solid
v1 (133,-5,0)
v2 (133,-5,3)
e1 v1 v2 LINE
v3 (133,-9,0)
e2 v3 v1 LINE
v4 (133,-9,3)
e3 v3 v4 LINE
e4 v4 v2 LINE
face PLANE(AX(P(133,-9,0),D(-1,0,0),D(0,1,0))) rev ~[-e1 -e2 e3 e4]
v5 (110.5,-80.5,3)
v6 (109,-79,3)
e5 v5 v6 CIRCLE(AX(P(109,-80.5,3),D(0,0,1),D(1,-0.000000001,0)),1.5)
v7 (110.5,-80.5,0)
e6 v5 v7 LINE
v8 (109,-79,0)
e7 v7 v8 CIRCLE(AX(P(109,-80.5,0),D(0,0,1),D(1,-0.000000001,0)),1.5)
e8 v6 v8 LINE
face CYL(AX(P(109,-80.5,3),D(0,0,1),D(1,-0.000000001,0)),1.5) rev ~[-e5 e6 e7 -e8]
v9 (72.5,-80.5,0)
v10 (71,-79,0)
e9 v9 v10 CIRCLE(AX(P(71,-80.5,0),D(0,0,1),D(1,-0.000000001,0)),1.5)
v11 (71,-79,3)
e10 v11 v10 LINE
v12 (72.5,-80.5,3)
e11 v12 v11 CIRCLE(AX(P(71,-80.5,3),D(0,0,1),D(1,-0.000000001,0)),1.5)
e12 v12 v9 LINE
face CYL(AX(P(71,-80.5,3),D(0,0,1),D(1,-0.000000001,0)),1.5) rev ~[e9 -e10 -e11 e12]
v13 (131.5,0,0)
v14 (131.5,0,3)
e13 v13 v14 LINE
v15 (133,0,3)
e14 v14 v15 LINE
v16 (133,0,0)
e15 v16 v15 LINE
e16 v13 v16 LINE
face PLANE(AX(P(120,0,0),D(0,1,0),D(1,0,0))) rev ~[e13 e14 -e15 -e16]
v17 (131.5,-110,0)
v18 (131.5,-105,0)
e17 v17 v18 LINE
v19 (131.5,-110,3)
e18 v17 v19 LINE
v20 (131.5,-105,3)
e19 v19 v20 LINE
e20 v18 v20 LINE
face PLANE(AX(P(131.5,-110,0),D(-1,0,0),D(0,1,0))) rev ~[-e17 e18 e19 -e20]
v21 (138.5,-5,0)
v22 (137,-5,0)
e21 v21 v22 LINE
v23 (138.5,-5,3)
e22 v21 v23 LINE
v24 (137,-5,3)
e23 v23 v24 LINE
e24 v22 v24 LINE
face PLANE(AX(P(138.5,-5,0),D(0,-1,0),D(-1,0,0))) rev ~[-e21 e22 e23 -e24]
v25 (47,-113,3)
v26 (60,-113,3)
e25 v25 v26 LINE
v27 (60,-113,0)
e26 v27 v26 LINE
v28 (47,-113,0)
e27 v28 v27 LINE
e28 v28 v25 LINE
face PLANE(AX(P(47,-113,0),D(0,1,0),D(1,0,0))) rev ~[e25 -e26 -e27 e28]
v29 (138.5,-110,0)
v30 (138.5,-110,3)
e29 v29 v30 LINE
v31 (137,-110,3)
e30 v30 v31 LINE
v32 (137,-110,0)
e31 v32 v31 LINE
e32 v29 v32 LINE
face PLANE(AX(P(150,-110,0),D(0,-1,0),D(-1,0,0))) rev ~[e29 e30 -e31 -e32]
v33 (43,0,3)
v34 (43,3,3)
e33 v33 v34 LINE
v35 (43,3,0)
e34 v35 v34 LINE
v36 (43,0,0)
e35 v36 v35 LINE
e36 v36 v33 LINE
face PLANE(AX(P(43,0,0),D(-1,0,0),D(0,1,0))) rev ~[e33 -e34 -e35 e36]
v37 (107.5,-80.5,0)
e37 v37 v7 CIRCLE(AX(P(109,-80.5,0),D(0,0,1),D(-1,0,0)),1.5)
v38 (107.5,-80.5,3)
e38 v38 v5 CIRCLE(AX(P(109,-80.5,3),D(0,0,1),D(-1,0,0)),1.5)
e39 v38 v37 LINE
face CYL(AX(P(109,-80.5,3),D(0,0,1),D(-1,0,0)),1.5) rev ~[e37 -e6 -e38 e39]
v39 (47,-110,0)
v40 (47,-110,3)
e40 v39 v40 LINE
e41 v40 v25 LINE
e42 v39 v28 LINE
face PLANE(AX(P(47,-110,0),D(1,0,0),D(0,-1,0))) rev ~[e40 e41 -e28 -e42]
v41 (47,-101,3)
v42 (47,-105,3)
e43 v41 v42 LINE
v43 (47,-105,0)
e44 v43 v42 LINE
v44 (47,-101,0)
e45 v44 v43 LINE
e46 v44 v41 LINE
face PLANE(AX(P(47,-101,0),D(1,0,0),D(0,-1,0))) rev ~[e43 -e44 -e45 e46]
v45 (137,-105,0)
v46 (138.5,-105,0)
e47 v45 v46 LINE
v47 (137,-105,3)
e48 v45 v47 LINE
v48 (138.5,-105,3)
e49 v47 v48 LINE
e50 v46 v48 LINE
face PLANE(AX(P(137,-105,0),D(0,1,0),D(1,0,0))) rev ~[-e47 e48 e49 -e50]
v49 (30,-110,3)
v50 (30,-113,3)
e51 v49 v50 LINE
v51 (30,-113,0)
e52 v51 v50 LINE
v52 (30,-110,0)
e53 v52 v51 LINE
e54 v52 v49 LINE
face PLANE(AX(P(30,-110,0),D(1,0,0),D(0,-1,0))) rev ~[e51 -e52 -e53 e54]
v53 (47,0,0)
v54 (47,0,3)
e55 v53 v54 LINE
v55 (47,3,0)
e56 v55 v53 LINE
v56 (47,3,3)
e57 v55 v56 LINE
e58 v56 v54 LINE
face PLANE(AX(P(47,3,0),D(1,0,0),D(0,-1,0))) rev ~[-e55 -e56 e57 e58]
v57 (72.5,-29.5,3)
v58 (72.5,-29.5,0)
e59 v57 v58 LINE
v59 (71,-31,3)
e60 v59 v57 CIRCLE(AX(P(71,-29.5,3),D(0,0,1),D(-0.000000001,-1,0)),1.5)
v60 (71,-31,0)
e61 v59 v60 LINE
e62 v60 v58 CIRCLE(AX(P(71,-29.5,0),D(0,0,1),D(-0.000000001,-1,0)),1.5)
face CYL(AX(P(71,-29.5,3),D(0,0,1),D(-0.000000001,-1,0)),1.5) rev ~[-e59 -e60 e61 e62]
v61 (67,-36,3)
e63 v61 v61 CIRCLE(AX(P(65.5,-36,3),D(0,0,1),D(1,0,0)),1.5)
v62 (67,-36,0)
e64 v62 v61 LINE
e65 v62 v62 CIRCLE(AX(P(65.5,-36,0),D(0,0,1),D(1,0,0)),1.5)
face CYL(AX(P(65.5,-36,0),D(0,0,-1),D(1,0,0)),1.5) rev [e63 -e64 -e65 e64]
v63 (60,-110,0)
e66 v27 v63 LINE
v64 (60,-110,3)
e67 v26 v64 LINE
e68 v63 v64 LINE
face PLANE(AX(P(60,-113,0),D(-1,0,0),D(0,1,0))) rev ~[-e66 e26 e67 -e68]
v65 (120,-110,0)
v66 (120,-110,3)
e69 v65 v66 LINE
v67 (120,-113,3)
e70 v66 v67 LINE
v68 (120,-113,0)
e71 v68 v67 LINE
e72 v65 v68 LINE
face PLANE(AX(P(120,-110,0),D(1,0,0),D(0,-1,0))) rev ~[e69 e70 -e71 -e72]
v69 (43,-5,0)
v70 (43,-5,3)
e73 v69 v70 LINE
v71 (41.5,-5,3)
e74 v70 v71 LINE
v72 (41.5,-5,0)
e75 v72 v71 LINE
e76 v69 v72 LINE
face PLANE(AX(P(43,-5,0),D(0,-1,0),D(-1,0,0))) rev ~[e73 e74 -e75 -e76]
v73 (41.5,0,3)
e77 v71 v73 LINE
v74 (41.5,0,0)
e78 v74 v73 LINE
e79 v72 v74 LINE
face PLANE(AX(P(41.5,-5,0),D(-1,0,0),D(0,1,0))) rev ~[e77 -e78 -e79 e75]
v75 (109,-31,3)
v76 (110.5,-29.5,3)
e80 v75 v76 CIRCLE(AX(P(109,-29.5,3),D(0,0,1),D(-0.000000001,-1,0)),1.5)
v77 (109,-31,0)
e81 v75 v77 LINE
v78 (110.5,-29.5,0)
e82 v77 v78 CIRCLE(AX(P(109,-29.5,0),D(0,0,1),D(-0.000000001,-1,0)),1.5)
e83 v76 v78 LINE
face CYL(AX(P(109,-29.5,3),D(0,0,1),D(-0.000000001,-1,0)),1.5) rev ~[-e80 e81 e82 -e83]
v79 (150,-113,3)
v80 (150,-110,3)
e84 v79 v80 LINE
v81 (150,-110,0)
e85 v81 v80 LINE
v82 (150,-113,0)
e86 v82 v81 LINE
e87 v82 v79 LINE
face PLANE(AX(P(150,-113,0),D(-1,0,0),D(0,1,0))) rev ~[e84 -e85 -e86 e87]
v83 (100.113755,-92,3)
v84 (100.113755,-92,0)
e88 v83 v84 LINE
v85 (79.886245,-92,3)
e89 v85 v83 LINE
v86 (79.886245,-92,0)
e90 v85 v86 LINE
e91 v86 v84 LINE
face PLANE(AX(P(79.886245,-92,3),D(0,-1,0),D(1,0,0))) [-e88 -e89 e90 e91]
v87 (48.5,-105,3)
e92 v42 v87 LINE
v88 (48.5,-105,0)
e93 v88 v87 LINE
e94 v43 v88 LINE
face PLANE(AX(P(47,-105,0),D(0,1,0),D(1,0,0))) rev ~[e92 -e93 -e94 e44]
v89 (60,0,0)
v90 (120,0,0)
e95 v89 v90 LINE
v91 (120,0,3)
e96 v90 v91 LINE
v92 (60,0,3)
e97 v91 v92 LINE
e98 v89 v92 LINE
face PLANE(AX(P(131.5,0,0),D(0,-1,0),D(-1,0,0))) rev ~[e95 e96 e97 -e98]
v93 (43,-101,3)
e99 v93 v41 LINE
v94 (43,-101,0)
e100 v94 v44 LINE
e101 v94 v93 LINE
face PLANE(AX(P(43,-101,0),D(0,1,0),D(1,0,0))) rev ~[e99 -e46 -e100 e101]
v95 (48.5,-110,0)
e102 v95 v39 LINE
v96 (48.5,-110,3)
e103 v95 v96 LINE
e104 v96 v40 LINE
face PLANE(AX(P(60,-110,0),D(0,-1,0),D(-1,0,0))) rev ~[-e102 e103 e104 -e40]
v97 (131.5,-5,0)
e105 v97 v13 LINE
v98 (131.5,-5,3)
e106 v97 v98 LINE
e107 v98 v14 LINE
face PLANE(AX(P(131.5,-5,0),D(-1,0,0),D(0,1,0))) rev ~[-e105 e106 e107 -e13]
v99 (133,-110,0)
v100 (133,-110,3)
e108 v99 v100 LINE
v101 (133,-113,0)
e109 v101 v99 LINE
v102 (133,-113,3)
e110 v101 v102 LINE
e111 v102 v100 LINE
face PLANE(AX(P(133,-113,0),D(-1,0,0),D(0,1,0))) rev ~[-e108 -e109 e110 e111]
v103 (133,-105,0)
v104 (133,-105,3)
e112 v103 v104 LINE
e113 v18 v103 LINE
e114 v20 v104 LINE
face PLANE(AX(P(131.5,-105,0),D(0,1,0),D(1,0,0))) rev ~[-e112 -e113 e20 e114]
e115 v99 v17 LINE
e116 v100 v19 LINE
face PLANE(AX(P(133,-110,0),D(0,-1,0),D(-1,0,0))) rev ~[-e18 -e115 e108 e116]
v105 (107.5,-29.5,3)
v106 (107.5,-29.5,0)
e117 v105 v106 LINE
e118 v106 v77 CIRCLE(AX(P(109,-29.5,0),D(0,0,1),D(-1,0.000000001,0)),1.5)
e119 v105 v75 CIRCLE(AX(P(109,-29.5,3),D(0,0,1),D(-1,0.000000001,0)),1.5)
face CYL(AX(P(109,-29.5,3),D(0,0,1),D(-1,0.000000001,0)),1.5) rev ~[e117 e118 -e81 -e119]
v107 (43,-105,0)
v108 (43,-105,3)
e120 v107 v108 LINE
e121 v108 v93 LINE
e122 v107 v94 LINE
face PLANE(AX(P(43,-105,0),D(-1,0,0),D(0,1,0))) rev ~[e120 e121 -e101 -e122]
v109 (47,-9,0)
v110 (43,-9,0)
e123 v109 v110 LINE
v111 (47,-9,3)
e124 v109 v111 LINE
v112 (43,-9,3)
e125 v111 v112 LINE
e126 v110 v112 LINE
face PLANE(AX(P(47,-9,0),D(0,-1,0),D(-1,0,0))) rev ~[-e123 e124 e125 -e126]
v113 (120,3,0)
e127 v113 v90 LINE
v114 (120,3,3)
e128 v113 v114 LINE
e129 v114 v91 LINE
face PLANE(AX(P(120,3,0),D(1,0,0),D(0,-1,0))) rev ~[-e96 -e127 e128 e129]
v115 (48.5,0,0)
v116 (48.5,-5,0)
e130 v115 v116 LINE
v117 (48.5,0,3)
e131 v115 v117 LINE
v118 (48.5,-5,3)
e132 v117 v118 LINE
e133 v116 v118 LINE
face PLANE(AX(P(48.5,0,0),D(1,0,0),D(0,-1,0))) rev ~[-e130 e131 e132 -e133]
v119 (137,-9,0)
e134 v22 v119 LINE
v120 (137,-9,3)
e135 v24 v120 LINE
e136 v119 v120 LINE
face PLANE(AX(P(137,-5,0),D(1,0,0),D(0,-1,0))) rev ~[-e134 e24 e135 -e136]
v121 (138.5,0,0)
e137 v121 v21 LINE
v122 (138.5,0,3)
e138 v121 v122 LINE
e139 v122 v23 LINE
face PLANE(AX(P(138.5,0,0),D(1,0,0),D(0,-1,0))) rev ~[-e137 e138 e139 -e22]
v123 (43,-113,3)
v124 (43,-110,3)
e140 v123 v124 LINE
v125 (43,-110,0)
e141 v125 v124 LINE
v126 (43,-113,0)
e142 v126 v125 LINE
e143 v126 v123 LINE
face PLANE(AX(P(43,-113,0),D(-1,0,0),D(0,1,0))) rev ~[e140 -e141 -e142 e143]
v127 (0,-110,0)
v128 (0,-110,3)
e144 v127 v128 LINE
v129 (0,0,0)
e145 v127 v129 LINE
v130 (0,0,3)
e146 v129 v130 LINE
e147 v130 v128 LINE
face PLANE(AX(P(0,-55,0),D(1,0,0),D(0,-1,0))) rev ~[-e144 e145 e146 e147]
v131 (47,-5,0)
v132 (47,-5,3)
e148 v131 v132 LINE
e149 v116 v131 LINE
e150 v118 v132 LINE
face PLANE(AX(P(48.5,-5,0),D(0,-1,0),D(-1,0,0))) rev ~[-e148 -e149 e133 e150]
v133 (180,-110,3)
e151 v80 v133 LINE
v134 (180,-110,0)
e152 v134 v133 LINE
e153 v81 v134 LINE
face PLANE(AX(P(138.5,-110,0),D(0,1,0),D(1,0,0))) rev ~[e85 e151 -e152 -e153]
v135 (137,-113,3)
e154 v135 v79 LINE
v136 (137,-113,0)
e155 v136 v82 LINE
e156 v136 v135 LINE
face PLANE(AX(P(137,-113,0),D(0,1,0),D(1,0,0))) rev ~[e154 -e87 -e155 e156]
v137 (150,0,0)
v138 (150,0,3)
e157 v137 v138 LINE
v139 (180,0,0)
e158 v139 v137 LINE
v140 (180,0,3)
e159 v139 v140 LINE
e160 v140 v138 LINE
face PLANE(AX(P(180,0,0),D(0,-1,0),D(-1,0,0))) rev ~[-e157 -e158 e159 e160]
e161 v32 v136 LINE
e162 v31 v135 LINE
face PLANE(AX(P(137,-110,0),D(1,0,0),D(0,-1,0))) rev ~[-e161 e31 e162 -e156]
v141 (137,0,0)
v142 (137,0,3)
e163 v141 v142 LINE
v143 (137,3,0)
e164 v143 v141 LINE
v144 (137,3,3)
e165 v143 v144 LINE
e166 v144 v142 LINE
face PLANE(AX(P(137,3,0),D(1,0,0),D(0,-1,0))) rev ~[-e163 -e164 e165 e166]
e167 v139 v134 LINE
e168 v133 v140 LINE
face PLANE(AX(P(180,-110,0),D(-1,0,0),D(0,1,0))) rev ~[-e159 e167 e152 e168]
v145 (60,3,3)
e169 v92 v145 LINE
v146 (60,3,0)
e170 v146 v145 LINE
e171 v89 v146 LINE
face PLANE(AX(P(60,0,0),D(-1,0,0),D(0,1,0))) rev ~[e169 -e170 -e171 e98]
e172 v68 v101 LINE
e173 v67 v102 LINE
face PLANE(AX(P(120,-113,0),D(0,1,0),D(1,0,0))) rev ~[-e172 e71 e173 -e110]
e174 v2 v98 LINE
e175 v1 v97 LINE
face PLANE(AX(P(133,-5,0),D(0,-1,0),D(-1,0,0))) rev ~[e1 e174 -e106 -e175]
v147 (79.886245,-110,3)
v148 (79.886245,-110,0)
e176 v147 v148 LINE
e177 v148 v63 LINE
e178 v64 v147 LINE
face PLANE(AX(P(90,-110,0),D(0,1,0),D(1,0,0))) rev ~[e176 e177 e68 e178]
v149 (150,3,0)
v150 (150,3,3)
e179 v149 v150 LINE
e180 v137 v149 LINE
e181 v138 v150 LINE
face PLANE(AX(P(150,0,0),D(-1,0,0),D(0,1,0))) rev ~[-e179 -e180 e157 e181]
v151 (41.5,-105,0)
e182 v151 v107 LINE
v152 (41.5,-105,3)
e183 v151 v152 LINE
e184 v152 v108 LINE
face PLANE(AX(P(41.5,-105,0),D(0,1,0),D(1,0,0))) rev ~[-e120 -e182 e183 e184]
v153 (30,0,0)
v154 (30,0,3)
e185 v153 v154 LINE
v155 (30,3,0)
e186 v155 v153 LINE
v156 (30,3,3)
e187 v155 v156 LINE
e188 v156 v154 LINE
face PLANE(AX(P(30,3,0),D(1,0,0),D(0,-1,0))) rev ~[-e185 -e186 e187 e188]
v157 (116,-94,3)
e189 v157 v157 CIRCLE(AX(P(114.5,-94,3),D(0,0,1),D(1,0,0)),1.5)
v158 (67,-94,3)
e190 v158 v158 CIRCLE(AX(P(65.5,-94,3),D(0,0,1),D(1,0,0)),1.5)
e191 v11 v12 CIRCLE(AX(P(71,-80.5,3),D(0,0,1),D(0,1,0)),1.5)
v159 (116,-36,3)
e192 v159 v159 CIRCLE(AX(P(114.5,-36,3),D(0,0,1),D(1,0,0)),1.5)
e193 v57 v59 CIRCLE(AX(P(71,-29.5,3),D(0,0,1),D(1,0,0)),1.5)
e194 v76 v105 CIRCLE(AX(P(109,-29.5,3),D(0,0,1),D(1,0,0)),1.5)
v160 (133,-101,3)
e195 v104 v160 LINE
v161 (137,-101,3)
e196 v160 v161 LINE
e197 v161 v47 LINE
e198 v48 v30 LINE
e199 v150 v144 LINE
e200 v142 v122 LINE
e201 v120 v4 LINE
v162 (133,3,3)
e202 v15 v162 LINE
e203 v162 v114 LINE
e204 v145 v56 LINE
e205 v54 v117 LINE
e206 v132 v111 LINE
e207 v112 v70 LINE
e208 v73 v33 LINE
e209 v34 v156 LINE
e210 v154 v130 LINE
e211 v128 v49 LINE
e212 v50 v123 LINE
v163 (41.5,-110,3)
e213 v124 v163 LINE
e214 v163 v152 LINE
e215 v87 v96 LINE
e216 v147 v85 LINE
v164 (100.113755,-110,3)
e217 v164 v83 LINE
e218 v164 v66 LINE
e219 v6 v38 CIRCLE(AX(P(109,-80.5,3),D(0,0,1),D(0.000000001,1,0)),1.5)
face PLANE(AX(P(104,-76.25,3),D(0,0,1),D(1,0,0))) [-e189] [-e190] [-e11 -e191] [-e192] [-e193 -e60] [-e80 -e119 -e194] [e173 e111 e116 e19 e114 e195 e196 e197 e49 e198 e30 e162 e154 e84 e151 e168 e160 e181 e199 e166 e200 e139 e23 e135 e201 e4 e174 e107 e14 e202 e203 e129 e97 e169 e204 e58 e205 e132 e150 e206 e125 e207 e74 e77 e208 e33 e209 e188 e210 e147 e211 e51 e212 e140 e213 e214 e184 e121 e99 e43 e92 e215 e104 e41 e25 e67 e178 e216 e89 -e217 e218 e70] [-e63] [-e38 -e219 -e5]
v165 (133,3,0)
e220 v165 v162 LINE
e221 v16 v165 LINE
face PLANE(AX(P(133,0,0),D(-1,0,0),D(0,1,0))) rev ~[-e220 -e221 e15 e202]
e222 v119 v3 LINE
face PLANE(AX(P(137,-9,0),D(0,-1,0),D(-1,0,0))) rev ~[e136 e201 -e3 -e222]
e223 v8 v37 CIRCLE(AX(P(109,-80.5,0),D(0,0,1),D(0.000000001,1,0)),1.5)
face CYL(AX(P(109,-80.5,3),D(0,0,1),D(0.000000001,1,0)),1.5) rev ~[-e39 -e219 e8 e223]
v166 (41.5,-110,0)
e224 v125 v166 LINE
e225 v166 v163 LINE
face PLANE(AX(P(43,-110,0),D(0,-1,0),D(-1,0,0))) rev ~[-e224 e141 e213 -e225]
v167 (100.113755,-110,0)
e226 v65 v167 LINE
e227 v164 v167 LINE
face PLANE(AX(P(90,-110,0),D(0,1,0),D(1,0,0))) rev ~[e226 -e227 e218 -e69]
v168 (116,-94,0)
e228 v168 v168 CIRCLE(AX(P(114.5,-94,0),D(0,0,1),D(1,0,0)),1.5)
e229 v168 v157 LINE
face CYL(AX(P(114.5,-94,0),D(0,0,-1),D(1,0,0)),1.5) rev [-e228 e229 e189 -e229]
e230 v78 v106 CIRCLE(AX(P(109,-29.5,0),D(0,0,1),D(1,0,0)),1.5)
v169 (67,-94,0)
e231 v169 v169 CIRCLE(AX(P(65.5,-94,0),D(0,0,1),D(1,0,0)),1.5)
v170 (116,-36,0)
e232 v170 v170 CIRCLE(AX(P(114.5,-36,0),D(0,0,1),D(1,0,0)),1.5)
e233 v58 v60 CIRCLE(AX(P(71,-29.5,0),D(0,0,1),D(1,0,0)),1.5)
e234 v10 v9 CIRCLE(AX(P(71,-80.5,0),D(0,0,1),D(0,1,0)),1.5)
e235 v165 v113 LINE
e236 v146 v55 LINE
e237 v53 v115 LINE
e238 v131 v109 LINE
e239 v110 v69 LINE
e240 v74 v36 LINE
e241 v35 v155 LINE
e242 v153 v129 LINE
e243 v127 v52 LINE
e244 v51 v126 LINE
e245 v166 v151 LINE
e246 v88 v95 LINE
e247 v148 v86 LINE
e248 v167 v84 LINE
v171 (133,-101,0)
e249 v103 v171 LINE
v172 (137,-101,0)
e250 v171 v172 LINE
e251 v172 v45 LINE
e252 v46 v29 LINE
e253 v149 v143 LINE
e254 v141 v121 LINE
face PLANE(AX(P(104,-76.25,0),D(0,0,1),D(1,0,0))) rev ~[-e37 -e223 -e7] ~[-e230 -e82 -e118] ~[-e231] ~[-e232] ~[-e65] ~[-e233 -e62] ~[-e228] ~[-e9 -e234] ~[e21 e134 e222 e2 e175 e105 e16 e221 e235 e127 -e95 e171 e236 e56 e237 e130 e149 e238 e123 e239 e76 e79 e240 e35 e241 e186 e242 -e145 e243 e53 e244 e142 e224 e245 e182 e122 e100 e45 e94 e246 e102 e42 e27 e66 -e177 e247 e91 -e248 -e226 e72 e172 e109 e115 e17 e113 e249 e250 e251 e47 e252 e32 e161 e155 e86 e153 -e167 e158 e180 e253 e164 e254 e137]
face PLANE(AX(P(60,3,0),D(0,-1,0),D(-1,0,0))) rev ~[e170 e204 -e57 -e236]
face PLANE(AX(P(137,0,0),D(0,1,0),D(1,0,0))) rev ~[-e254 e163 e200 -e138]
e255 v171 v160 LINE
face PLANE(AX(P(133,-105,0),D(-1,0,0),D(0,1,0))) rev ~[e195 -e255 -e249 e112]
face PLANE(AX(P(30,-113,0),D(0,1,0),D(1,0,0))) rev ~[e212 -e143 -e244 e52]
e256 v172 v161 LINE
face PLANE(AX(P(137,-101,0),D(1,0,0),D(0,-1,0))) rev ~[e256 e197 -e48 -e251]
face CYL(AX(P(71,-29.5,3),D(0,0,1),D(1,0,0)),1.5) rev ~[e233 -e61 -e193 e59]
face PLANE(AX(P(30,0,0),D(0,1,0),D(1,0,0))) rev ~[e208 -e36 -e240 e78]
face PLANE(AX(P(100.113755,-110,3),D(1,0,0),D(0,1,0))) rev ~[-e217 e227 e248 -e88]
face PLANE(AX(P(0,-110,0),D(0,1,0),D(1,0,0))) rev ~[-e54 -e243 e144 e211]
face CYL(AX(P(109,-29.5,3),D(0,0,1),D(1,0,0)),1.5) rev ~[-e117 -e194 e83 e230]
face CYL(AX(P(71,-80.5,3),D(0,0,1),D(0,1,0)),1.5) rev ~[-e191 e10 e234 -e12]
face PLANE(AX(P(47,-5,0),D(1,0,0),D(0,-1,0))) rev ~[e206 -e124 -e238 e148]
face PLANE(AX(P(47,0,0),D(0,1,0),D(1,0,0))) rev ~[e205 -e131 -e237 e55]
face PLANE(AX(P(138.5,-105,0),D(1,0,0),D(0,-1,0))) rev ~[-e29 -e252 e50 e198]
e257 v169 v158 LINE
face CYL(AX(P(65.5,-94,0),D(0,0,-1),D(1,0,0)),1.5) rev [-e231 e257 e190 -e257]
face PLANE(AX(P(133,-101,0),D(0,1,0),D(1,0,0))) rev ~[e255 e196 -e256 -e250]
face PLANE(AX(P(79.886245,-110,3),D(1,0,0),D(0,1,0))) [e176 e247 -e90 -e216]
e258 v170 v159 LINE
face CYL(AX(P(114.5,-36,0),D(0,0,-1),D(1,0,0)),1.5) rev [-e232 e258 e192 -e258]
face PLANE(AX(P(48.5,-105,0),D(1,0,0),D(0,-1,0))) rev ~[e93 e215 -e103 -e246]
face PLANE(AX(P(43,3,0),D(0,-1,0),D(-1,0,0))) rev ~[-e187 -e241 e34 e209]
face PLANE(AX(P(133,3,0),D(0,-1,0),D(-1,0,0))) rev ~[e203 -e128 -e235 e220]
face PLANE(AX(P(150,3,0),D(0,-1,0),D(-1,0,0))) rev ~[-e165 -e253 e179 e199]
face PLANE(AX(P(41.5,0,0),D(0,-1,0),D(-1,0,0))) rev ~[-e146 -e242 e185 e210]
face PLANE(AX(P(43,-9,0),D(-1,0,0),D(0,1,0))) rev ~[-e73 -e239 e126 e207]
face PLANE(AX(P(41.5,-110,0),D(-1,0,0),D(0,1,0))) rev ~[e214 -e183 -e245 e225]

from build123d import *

# Parameters (mm, degrees)
SKETCH_1_W          = 28
SKETCH_1_H          = 42.5
SKETCH_1_R          = 1.5
EXTRUDE_1_DEPTH     = 3
SKETCH1_W           = 20.227510382
SKETCH1_H           = 18
CUT_EXTRUDE1_DEPTH  = 10
CUT_EXTRUDE_1_DEPTH = 213.55117031


with BuildPart() as part:
    # 草图1 → 凸台-拉伸1 (new body)
    # profile 1 of 16: a face of its own
    with BuildSketch(Plane.XY):
        Polygon((41.5, 0), (43, 0), (43, 3), (30, 3), (30, 0), align=None)
    # profile 2 of 16: a face of its own
    with BuildSketch(Plane.XY):
        Polygon((48.5, 0), (60, 0), (60, 3), (47, 3), (47, 0), align=None)
    # profile 3 of 16: a face of its own
    with BuildSketch(Plane.XY):
        Polygon((120, 3), (120, 0), (131.5, 0), (133, 0), (133, 3), align=None)
    # profile 4 of 16: a face of its own
    with BuildSketch(Plane.XY):
        Polygon((137, 3), (137, 0), (138.5, 0), (150, 0), (150, 3), align=None)
    # profile 5 of 16: a face of its own
    with BuildSketch(Plane.XY):
        Polygon((120, 0), (90, 0), (90, -12.5), (118, -12.5), (118, -55), (180, -55), (180, 0), (150, 0), (138.5, 0), (138.5, -5), (137, -5), (137, -9), (133, -9), (133, -5), (131.5, -5), (131.5, 0), align=None)
    # profile 6 of 16: a face of its own
    with BuildSketch(Plane.XY):
        Polygon((90, -12.5), (90, 0), (60, 0), (48.5, 0), (48.5, -5), (47, -5), (47, -9), (43, -9), (43, -5), (41.5, -5), (41.5, 0), (30, 0), (0, 0), (0, -55), (62, -55), (62, -12.5), align=None)
    # profile 7 of 16: a face of its own
    with BuildSketch(Plane.XY):
        with Locations((76, -33.75)):
            Rectangle(SKETCH_1_W, SKETCH_1_H)
        with Locations((65.5, -36)):
            Circle(SKETCH_1_R, mode=Mode.SUBTRACT)
    # profile 8 of 16: a face of its own
    with BuildSketch(Plane.XY):
        with Locations((104, -33.75)):
            Rectangle(SKETCH_1_W, SKETCH_1_H)
        with Locations((114.5, -36)):
            Circle(SKETCH_1_R, mode=Mode.SUBTRACT)
    # profile 9 of 16: a face of its own
    with BuildSketch(Plane.XY):
        Polygon((41.5, -110), (30, -110), (30, -113), (43, -113), (43, -110), align=None)
    # profile 10 of 16: a face of its own
    with BuildSketch(Plane.XY):
        Polygon((60, -113), (60, -110), (48.5, -110), (47, -110), (47, -113), align=None)
    # profile 11 of 16: a face of its own
    with BuildSketch(Plane.XY):
        Polygon((131.5, -110), (120, -110), (120, -113), (133, -113), (133, -110), align=None)
    # profile 12 of 16: a face of its own
    with BuildSketch(Plane.XY):
        Polygon((150, -113), (150, -110), (138.5, -110), (137, -110), (137, -113), align=None)
    # profile 13 of 16: a face of its own
    with BuildSketch(Plane.XY):
        Polygon((118, -97.5), (90, -97.5), (90, -110), (120, -110), (131.5, -110), (131.5, -105), (133, -105), (133, -101), (137, -101), (137, -105), (138.5, -105), (138.5, -110), (150, -110), (180, -110), (180, -55), (118, -55), align=None)
    # profile 14 of 16: a face of its own
    with BuildSketch(Plane.XY):
        Polygon((90, -110), (90, -97.5), (62, -97.5), (62, -55), (0, -55), (0, -110), (30, -110), (41.5, -110), (41.5, -105), (43, -105), (43, -101), (47, -101), (47, -105), (48.5, -105), (48.5, -110), (60, -110), align=None)
    # profile 15 of 16: a face of its own
    with BuildSketch(Plane.XY):
        with Locations((76, -76.25)):
            Rectangle(SKETCH_1_W, SKETCH_1_H)
        with Locations((65.5, -94)):
            Circle(SKETCH_1_R, mode=Mode.SUBTRACT)
    # profile 16 of 16: a face of its own
    with BuildSketch(Plane.XY):
        with Locations((104, -76.25)):
            Rectangle(SKETCH_1_W, SKETCH_1_H)
        with Locations((114.5, -94)):
            Circle(SKETCH_1_R, mode=Mode.SUBTRACT)
    extrude(amount=EXTRUDE_1_DEPTH)

    # Sketch1 → Cut-Extrude1 (cut)
    with BuildSketch(Plane.XY.offset(3)):
        with Locations((90, -101)):
            Rectangle(SKETCH1_W, SKETCH1_H)
    extrude(amount=-CUT_EXTRUDE1_DEPTH, mode=Mode.SUBTRACT)

    # 草图2 → 切除-拉伸1 (cut, through all)
    with BuildSketch(Plane.XY.offset(3)):
        with BuildLine():
            ThreePointArc((72.5, -29.5), (69.939339828, -28.439339828), (71, -31))
            Line((71, -31), (71, -29.5))
            Line((71, -29.5), (72.5, -29.5))
        make_face()
        with BuildLine():
            Line((71, -29.5), (71, -31))
            ThreePointArc((71, -31), (72.060660172, -30.560660172), (72.5, -29.5))
            Line((72.5, -29.5), (71, -29.5))
        make_face()
        with BuildLine():
            ThreePointArc((107.5, -29.5), (107.939339828, -30.560660172), (109, -31))
            Line((109, -31), (109, -29.5))
            Line((109, -29.5), (107.5, -29.5))
        make_face()
        with BuildLine():
            Line((109, -29.5), (109, -31))
            ThreePointArc((109, -31), (110.060660172, -30.560660172), (110.5, -29.5))
            ThreePointArc((110.5, -29.5), (109, -28), (107.5, -29.5))
            Line((107.5, -29.5), (109, -29.5))
        make_face()
        with BuildLine():
            ThreePointArc((72.5, -80.5), (72.060660172, -79.439339828), (71, -79))
            Line((71, -79), (71, -80.5))
            Line((71, -80.5), (72.5, -80.5))
        make_face()
        with BuildLine():
            Line((71, -80.5), (71, -79))
            ThreePointArc((71, -79), (69.939339828, -81.560660172), (72.5, -80.5))
            Line((72.5, -80.5), (71, -80.5))
        make_face()
        with BuildLine():
            ThreePointArc((110.5, -80.5), (110.060660172, -79.439339828), (109, -79))
            Line((109, -79), (109, -80.5))
            Line((109, -80.5), (107.5, -80.5))
            ThreePointArc((107.5, -80.5), (109, -82), (110.5, -80.5))
        make_face()
        with BuildLine():
            Line((109, -80.5), (109, -79))
            ThreePointArc((109, -79), (107.939339828, -79.439339828), (107.5, -80.5))
            Line((107.5, -80.5), (109, -80.5))
        make_face()
    extrude(amount=-CUT_EXTRUDE_1_DEPTH, mode=Mode.SUBTRACT)


solid = part.part
